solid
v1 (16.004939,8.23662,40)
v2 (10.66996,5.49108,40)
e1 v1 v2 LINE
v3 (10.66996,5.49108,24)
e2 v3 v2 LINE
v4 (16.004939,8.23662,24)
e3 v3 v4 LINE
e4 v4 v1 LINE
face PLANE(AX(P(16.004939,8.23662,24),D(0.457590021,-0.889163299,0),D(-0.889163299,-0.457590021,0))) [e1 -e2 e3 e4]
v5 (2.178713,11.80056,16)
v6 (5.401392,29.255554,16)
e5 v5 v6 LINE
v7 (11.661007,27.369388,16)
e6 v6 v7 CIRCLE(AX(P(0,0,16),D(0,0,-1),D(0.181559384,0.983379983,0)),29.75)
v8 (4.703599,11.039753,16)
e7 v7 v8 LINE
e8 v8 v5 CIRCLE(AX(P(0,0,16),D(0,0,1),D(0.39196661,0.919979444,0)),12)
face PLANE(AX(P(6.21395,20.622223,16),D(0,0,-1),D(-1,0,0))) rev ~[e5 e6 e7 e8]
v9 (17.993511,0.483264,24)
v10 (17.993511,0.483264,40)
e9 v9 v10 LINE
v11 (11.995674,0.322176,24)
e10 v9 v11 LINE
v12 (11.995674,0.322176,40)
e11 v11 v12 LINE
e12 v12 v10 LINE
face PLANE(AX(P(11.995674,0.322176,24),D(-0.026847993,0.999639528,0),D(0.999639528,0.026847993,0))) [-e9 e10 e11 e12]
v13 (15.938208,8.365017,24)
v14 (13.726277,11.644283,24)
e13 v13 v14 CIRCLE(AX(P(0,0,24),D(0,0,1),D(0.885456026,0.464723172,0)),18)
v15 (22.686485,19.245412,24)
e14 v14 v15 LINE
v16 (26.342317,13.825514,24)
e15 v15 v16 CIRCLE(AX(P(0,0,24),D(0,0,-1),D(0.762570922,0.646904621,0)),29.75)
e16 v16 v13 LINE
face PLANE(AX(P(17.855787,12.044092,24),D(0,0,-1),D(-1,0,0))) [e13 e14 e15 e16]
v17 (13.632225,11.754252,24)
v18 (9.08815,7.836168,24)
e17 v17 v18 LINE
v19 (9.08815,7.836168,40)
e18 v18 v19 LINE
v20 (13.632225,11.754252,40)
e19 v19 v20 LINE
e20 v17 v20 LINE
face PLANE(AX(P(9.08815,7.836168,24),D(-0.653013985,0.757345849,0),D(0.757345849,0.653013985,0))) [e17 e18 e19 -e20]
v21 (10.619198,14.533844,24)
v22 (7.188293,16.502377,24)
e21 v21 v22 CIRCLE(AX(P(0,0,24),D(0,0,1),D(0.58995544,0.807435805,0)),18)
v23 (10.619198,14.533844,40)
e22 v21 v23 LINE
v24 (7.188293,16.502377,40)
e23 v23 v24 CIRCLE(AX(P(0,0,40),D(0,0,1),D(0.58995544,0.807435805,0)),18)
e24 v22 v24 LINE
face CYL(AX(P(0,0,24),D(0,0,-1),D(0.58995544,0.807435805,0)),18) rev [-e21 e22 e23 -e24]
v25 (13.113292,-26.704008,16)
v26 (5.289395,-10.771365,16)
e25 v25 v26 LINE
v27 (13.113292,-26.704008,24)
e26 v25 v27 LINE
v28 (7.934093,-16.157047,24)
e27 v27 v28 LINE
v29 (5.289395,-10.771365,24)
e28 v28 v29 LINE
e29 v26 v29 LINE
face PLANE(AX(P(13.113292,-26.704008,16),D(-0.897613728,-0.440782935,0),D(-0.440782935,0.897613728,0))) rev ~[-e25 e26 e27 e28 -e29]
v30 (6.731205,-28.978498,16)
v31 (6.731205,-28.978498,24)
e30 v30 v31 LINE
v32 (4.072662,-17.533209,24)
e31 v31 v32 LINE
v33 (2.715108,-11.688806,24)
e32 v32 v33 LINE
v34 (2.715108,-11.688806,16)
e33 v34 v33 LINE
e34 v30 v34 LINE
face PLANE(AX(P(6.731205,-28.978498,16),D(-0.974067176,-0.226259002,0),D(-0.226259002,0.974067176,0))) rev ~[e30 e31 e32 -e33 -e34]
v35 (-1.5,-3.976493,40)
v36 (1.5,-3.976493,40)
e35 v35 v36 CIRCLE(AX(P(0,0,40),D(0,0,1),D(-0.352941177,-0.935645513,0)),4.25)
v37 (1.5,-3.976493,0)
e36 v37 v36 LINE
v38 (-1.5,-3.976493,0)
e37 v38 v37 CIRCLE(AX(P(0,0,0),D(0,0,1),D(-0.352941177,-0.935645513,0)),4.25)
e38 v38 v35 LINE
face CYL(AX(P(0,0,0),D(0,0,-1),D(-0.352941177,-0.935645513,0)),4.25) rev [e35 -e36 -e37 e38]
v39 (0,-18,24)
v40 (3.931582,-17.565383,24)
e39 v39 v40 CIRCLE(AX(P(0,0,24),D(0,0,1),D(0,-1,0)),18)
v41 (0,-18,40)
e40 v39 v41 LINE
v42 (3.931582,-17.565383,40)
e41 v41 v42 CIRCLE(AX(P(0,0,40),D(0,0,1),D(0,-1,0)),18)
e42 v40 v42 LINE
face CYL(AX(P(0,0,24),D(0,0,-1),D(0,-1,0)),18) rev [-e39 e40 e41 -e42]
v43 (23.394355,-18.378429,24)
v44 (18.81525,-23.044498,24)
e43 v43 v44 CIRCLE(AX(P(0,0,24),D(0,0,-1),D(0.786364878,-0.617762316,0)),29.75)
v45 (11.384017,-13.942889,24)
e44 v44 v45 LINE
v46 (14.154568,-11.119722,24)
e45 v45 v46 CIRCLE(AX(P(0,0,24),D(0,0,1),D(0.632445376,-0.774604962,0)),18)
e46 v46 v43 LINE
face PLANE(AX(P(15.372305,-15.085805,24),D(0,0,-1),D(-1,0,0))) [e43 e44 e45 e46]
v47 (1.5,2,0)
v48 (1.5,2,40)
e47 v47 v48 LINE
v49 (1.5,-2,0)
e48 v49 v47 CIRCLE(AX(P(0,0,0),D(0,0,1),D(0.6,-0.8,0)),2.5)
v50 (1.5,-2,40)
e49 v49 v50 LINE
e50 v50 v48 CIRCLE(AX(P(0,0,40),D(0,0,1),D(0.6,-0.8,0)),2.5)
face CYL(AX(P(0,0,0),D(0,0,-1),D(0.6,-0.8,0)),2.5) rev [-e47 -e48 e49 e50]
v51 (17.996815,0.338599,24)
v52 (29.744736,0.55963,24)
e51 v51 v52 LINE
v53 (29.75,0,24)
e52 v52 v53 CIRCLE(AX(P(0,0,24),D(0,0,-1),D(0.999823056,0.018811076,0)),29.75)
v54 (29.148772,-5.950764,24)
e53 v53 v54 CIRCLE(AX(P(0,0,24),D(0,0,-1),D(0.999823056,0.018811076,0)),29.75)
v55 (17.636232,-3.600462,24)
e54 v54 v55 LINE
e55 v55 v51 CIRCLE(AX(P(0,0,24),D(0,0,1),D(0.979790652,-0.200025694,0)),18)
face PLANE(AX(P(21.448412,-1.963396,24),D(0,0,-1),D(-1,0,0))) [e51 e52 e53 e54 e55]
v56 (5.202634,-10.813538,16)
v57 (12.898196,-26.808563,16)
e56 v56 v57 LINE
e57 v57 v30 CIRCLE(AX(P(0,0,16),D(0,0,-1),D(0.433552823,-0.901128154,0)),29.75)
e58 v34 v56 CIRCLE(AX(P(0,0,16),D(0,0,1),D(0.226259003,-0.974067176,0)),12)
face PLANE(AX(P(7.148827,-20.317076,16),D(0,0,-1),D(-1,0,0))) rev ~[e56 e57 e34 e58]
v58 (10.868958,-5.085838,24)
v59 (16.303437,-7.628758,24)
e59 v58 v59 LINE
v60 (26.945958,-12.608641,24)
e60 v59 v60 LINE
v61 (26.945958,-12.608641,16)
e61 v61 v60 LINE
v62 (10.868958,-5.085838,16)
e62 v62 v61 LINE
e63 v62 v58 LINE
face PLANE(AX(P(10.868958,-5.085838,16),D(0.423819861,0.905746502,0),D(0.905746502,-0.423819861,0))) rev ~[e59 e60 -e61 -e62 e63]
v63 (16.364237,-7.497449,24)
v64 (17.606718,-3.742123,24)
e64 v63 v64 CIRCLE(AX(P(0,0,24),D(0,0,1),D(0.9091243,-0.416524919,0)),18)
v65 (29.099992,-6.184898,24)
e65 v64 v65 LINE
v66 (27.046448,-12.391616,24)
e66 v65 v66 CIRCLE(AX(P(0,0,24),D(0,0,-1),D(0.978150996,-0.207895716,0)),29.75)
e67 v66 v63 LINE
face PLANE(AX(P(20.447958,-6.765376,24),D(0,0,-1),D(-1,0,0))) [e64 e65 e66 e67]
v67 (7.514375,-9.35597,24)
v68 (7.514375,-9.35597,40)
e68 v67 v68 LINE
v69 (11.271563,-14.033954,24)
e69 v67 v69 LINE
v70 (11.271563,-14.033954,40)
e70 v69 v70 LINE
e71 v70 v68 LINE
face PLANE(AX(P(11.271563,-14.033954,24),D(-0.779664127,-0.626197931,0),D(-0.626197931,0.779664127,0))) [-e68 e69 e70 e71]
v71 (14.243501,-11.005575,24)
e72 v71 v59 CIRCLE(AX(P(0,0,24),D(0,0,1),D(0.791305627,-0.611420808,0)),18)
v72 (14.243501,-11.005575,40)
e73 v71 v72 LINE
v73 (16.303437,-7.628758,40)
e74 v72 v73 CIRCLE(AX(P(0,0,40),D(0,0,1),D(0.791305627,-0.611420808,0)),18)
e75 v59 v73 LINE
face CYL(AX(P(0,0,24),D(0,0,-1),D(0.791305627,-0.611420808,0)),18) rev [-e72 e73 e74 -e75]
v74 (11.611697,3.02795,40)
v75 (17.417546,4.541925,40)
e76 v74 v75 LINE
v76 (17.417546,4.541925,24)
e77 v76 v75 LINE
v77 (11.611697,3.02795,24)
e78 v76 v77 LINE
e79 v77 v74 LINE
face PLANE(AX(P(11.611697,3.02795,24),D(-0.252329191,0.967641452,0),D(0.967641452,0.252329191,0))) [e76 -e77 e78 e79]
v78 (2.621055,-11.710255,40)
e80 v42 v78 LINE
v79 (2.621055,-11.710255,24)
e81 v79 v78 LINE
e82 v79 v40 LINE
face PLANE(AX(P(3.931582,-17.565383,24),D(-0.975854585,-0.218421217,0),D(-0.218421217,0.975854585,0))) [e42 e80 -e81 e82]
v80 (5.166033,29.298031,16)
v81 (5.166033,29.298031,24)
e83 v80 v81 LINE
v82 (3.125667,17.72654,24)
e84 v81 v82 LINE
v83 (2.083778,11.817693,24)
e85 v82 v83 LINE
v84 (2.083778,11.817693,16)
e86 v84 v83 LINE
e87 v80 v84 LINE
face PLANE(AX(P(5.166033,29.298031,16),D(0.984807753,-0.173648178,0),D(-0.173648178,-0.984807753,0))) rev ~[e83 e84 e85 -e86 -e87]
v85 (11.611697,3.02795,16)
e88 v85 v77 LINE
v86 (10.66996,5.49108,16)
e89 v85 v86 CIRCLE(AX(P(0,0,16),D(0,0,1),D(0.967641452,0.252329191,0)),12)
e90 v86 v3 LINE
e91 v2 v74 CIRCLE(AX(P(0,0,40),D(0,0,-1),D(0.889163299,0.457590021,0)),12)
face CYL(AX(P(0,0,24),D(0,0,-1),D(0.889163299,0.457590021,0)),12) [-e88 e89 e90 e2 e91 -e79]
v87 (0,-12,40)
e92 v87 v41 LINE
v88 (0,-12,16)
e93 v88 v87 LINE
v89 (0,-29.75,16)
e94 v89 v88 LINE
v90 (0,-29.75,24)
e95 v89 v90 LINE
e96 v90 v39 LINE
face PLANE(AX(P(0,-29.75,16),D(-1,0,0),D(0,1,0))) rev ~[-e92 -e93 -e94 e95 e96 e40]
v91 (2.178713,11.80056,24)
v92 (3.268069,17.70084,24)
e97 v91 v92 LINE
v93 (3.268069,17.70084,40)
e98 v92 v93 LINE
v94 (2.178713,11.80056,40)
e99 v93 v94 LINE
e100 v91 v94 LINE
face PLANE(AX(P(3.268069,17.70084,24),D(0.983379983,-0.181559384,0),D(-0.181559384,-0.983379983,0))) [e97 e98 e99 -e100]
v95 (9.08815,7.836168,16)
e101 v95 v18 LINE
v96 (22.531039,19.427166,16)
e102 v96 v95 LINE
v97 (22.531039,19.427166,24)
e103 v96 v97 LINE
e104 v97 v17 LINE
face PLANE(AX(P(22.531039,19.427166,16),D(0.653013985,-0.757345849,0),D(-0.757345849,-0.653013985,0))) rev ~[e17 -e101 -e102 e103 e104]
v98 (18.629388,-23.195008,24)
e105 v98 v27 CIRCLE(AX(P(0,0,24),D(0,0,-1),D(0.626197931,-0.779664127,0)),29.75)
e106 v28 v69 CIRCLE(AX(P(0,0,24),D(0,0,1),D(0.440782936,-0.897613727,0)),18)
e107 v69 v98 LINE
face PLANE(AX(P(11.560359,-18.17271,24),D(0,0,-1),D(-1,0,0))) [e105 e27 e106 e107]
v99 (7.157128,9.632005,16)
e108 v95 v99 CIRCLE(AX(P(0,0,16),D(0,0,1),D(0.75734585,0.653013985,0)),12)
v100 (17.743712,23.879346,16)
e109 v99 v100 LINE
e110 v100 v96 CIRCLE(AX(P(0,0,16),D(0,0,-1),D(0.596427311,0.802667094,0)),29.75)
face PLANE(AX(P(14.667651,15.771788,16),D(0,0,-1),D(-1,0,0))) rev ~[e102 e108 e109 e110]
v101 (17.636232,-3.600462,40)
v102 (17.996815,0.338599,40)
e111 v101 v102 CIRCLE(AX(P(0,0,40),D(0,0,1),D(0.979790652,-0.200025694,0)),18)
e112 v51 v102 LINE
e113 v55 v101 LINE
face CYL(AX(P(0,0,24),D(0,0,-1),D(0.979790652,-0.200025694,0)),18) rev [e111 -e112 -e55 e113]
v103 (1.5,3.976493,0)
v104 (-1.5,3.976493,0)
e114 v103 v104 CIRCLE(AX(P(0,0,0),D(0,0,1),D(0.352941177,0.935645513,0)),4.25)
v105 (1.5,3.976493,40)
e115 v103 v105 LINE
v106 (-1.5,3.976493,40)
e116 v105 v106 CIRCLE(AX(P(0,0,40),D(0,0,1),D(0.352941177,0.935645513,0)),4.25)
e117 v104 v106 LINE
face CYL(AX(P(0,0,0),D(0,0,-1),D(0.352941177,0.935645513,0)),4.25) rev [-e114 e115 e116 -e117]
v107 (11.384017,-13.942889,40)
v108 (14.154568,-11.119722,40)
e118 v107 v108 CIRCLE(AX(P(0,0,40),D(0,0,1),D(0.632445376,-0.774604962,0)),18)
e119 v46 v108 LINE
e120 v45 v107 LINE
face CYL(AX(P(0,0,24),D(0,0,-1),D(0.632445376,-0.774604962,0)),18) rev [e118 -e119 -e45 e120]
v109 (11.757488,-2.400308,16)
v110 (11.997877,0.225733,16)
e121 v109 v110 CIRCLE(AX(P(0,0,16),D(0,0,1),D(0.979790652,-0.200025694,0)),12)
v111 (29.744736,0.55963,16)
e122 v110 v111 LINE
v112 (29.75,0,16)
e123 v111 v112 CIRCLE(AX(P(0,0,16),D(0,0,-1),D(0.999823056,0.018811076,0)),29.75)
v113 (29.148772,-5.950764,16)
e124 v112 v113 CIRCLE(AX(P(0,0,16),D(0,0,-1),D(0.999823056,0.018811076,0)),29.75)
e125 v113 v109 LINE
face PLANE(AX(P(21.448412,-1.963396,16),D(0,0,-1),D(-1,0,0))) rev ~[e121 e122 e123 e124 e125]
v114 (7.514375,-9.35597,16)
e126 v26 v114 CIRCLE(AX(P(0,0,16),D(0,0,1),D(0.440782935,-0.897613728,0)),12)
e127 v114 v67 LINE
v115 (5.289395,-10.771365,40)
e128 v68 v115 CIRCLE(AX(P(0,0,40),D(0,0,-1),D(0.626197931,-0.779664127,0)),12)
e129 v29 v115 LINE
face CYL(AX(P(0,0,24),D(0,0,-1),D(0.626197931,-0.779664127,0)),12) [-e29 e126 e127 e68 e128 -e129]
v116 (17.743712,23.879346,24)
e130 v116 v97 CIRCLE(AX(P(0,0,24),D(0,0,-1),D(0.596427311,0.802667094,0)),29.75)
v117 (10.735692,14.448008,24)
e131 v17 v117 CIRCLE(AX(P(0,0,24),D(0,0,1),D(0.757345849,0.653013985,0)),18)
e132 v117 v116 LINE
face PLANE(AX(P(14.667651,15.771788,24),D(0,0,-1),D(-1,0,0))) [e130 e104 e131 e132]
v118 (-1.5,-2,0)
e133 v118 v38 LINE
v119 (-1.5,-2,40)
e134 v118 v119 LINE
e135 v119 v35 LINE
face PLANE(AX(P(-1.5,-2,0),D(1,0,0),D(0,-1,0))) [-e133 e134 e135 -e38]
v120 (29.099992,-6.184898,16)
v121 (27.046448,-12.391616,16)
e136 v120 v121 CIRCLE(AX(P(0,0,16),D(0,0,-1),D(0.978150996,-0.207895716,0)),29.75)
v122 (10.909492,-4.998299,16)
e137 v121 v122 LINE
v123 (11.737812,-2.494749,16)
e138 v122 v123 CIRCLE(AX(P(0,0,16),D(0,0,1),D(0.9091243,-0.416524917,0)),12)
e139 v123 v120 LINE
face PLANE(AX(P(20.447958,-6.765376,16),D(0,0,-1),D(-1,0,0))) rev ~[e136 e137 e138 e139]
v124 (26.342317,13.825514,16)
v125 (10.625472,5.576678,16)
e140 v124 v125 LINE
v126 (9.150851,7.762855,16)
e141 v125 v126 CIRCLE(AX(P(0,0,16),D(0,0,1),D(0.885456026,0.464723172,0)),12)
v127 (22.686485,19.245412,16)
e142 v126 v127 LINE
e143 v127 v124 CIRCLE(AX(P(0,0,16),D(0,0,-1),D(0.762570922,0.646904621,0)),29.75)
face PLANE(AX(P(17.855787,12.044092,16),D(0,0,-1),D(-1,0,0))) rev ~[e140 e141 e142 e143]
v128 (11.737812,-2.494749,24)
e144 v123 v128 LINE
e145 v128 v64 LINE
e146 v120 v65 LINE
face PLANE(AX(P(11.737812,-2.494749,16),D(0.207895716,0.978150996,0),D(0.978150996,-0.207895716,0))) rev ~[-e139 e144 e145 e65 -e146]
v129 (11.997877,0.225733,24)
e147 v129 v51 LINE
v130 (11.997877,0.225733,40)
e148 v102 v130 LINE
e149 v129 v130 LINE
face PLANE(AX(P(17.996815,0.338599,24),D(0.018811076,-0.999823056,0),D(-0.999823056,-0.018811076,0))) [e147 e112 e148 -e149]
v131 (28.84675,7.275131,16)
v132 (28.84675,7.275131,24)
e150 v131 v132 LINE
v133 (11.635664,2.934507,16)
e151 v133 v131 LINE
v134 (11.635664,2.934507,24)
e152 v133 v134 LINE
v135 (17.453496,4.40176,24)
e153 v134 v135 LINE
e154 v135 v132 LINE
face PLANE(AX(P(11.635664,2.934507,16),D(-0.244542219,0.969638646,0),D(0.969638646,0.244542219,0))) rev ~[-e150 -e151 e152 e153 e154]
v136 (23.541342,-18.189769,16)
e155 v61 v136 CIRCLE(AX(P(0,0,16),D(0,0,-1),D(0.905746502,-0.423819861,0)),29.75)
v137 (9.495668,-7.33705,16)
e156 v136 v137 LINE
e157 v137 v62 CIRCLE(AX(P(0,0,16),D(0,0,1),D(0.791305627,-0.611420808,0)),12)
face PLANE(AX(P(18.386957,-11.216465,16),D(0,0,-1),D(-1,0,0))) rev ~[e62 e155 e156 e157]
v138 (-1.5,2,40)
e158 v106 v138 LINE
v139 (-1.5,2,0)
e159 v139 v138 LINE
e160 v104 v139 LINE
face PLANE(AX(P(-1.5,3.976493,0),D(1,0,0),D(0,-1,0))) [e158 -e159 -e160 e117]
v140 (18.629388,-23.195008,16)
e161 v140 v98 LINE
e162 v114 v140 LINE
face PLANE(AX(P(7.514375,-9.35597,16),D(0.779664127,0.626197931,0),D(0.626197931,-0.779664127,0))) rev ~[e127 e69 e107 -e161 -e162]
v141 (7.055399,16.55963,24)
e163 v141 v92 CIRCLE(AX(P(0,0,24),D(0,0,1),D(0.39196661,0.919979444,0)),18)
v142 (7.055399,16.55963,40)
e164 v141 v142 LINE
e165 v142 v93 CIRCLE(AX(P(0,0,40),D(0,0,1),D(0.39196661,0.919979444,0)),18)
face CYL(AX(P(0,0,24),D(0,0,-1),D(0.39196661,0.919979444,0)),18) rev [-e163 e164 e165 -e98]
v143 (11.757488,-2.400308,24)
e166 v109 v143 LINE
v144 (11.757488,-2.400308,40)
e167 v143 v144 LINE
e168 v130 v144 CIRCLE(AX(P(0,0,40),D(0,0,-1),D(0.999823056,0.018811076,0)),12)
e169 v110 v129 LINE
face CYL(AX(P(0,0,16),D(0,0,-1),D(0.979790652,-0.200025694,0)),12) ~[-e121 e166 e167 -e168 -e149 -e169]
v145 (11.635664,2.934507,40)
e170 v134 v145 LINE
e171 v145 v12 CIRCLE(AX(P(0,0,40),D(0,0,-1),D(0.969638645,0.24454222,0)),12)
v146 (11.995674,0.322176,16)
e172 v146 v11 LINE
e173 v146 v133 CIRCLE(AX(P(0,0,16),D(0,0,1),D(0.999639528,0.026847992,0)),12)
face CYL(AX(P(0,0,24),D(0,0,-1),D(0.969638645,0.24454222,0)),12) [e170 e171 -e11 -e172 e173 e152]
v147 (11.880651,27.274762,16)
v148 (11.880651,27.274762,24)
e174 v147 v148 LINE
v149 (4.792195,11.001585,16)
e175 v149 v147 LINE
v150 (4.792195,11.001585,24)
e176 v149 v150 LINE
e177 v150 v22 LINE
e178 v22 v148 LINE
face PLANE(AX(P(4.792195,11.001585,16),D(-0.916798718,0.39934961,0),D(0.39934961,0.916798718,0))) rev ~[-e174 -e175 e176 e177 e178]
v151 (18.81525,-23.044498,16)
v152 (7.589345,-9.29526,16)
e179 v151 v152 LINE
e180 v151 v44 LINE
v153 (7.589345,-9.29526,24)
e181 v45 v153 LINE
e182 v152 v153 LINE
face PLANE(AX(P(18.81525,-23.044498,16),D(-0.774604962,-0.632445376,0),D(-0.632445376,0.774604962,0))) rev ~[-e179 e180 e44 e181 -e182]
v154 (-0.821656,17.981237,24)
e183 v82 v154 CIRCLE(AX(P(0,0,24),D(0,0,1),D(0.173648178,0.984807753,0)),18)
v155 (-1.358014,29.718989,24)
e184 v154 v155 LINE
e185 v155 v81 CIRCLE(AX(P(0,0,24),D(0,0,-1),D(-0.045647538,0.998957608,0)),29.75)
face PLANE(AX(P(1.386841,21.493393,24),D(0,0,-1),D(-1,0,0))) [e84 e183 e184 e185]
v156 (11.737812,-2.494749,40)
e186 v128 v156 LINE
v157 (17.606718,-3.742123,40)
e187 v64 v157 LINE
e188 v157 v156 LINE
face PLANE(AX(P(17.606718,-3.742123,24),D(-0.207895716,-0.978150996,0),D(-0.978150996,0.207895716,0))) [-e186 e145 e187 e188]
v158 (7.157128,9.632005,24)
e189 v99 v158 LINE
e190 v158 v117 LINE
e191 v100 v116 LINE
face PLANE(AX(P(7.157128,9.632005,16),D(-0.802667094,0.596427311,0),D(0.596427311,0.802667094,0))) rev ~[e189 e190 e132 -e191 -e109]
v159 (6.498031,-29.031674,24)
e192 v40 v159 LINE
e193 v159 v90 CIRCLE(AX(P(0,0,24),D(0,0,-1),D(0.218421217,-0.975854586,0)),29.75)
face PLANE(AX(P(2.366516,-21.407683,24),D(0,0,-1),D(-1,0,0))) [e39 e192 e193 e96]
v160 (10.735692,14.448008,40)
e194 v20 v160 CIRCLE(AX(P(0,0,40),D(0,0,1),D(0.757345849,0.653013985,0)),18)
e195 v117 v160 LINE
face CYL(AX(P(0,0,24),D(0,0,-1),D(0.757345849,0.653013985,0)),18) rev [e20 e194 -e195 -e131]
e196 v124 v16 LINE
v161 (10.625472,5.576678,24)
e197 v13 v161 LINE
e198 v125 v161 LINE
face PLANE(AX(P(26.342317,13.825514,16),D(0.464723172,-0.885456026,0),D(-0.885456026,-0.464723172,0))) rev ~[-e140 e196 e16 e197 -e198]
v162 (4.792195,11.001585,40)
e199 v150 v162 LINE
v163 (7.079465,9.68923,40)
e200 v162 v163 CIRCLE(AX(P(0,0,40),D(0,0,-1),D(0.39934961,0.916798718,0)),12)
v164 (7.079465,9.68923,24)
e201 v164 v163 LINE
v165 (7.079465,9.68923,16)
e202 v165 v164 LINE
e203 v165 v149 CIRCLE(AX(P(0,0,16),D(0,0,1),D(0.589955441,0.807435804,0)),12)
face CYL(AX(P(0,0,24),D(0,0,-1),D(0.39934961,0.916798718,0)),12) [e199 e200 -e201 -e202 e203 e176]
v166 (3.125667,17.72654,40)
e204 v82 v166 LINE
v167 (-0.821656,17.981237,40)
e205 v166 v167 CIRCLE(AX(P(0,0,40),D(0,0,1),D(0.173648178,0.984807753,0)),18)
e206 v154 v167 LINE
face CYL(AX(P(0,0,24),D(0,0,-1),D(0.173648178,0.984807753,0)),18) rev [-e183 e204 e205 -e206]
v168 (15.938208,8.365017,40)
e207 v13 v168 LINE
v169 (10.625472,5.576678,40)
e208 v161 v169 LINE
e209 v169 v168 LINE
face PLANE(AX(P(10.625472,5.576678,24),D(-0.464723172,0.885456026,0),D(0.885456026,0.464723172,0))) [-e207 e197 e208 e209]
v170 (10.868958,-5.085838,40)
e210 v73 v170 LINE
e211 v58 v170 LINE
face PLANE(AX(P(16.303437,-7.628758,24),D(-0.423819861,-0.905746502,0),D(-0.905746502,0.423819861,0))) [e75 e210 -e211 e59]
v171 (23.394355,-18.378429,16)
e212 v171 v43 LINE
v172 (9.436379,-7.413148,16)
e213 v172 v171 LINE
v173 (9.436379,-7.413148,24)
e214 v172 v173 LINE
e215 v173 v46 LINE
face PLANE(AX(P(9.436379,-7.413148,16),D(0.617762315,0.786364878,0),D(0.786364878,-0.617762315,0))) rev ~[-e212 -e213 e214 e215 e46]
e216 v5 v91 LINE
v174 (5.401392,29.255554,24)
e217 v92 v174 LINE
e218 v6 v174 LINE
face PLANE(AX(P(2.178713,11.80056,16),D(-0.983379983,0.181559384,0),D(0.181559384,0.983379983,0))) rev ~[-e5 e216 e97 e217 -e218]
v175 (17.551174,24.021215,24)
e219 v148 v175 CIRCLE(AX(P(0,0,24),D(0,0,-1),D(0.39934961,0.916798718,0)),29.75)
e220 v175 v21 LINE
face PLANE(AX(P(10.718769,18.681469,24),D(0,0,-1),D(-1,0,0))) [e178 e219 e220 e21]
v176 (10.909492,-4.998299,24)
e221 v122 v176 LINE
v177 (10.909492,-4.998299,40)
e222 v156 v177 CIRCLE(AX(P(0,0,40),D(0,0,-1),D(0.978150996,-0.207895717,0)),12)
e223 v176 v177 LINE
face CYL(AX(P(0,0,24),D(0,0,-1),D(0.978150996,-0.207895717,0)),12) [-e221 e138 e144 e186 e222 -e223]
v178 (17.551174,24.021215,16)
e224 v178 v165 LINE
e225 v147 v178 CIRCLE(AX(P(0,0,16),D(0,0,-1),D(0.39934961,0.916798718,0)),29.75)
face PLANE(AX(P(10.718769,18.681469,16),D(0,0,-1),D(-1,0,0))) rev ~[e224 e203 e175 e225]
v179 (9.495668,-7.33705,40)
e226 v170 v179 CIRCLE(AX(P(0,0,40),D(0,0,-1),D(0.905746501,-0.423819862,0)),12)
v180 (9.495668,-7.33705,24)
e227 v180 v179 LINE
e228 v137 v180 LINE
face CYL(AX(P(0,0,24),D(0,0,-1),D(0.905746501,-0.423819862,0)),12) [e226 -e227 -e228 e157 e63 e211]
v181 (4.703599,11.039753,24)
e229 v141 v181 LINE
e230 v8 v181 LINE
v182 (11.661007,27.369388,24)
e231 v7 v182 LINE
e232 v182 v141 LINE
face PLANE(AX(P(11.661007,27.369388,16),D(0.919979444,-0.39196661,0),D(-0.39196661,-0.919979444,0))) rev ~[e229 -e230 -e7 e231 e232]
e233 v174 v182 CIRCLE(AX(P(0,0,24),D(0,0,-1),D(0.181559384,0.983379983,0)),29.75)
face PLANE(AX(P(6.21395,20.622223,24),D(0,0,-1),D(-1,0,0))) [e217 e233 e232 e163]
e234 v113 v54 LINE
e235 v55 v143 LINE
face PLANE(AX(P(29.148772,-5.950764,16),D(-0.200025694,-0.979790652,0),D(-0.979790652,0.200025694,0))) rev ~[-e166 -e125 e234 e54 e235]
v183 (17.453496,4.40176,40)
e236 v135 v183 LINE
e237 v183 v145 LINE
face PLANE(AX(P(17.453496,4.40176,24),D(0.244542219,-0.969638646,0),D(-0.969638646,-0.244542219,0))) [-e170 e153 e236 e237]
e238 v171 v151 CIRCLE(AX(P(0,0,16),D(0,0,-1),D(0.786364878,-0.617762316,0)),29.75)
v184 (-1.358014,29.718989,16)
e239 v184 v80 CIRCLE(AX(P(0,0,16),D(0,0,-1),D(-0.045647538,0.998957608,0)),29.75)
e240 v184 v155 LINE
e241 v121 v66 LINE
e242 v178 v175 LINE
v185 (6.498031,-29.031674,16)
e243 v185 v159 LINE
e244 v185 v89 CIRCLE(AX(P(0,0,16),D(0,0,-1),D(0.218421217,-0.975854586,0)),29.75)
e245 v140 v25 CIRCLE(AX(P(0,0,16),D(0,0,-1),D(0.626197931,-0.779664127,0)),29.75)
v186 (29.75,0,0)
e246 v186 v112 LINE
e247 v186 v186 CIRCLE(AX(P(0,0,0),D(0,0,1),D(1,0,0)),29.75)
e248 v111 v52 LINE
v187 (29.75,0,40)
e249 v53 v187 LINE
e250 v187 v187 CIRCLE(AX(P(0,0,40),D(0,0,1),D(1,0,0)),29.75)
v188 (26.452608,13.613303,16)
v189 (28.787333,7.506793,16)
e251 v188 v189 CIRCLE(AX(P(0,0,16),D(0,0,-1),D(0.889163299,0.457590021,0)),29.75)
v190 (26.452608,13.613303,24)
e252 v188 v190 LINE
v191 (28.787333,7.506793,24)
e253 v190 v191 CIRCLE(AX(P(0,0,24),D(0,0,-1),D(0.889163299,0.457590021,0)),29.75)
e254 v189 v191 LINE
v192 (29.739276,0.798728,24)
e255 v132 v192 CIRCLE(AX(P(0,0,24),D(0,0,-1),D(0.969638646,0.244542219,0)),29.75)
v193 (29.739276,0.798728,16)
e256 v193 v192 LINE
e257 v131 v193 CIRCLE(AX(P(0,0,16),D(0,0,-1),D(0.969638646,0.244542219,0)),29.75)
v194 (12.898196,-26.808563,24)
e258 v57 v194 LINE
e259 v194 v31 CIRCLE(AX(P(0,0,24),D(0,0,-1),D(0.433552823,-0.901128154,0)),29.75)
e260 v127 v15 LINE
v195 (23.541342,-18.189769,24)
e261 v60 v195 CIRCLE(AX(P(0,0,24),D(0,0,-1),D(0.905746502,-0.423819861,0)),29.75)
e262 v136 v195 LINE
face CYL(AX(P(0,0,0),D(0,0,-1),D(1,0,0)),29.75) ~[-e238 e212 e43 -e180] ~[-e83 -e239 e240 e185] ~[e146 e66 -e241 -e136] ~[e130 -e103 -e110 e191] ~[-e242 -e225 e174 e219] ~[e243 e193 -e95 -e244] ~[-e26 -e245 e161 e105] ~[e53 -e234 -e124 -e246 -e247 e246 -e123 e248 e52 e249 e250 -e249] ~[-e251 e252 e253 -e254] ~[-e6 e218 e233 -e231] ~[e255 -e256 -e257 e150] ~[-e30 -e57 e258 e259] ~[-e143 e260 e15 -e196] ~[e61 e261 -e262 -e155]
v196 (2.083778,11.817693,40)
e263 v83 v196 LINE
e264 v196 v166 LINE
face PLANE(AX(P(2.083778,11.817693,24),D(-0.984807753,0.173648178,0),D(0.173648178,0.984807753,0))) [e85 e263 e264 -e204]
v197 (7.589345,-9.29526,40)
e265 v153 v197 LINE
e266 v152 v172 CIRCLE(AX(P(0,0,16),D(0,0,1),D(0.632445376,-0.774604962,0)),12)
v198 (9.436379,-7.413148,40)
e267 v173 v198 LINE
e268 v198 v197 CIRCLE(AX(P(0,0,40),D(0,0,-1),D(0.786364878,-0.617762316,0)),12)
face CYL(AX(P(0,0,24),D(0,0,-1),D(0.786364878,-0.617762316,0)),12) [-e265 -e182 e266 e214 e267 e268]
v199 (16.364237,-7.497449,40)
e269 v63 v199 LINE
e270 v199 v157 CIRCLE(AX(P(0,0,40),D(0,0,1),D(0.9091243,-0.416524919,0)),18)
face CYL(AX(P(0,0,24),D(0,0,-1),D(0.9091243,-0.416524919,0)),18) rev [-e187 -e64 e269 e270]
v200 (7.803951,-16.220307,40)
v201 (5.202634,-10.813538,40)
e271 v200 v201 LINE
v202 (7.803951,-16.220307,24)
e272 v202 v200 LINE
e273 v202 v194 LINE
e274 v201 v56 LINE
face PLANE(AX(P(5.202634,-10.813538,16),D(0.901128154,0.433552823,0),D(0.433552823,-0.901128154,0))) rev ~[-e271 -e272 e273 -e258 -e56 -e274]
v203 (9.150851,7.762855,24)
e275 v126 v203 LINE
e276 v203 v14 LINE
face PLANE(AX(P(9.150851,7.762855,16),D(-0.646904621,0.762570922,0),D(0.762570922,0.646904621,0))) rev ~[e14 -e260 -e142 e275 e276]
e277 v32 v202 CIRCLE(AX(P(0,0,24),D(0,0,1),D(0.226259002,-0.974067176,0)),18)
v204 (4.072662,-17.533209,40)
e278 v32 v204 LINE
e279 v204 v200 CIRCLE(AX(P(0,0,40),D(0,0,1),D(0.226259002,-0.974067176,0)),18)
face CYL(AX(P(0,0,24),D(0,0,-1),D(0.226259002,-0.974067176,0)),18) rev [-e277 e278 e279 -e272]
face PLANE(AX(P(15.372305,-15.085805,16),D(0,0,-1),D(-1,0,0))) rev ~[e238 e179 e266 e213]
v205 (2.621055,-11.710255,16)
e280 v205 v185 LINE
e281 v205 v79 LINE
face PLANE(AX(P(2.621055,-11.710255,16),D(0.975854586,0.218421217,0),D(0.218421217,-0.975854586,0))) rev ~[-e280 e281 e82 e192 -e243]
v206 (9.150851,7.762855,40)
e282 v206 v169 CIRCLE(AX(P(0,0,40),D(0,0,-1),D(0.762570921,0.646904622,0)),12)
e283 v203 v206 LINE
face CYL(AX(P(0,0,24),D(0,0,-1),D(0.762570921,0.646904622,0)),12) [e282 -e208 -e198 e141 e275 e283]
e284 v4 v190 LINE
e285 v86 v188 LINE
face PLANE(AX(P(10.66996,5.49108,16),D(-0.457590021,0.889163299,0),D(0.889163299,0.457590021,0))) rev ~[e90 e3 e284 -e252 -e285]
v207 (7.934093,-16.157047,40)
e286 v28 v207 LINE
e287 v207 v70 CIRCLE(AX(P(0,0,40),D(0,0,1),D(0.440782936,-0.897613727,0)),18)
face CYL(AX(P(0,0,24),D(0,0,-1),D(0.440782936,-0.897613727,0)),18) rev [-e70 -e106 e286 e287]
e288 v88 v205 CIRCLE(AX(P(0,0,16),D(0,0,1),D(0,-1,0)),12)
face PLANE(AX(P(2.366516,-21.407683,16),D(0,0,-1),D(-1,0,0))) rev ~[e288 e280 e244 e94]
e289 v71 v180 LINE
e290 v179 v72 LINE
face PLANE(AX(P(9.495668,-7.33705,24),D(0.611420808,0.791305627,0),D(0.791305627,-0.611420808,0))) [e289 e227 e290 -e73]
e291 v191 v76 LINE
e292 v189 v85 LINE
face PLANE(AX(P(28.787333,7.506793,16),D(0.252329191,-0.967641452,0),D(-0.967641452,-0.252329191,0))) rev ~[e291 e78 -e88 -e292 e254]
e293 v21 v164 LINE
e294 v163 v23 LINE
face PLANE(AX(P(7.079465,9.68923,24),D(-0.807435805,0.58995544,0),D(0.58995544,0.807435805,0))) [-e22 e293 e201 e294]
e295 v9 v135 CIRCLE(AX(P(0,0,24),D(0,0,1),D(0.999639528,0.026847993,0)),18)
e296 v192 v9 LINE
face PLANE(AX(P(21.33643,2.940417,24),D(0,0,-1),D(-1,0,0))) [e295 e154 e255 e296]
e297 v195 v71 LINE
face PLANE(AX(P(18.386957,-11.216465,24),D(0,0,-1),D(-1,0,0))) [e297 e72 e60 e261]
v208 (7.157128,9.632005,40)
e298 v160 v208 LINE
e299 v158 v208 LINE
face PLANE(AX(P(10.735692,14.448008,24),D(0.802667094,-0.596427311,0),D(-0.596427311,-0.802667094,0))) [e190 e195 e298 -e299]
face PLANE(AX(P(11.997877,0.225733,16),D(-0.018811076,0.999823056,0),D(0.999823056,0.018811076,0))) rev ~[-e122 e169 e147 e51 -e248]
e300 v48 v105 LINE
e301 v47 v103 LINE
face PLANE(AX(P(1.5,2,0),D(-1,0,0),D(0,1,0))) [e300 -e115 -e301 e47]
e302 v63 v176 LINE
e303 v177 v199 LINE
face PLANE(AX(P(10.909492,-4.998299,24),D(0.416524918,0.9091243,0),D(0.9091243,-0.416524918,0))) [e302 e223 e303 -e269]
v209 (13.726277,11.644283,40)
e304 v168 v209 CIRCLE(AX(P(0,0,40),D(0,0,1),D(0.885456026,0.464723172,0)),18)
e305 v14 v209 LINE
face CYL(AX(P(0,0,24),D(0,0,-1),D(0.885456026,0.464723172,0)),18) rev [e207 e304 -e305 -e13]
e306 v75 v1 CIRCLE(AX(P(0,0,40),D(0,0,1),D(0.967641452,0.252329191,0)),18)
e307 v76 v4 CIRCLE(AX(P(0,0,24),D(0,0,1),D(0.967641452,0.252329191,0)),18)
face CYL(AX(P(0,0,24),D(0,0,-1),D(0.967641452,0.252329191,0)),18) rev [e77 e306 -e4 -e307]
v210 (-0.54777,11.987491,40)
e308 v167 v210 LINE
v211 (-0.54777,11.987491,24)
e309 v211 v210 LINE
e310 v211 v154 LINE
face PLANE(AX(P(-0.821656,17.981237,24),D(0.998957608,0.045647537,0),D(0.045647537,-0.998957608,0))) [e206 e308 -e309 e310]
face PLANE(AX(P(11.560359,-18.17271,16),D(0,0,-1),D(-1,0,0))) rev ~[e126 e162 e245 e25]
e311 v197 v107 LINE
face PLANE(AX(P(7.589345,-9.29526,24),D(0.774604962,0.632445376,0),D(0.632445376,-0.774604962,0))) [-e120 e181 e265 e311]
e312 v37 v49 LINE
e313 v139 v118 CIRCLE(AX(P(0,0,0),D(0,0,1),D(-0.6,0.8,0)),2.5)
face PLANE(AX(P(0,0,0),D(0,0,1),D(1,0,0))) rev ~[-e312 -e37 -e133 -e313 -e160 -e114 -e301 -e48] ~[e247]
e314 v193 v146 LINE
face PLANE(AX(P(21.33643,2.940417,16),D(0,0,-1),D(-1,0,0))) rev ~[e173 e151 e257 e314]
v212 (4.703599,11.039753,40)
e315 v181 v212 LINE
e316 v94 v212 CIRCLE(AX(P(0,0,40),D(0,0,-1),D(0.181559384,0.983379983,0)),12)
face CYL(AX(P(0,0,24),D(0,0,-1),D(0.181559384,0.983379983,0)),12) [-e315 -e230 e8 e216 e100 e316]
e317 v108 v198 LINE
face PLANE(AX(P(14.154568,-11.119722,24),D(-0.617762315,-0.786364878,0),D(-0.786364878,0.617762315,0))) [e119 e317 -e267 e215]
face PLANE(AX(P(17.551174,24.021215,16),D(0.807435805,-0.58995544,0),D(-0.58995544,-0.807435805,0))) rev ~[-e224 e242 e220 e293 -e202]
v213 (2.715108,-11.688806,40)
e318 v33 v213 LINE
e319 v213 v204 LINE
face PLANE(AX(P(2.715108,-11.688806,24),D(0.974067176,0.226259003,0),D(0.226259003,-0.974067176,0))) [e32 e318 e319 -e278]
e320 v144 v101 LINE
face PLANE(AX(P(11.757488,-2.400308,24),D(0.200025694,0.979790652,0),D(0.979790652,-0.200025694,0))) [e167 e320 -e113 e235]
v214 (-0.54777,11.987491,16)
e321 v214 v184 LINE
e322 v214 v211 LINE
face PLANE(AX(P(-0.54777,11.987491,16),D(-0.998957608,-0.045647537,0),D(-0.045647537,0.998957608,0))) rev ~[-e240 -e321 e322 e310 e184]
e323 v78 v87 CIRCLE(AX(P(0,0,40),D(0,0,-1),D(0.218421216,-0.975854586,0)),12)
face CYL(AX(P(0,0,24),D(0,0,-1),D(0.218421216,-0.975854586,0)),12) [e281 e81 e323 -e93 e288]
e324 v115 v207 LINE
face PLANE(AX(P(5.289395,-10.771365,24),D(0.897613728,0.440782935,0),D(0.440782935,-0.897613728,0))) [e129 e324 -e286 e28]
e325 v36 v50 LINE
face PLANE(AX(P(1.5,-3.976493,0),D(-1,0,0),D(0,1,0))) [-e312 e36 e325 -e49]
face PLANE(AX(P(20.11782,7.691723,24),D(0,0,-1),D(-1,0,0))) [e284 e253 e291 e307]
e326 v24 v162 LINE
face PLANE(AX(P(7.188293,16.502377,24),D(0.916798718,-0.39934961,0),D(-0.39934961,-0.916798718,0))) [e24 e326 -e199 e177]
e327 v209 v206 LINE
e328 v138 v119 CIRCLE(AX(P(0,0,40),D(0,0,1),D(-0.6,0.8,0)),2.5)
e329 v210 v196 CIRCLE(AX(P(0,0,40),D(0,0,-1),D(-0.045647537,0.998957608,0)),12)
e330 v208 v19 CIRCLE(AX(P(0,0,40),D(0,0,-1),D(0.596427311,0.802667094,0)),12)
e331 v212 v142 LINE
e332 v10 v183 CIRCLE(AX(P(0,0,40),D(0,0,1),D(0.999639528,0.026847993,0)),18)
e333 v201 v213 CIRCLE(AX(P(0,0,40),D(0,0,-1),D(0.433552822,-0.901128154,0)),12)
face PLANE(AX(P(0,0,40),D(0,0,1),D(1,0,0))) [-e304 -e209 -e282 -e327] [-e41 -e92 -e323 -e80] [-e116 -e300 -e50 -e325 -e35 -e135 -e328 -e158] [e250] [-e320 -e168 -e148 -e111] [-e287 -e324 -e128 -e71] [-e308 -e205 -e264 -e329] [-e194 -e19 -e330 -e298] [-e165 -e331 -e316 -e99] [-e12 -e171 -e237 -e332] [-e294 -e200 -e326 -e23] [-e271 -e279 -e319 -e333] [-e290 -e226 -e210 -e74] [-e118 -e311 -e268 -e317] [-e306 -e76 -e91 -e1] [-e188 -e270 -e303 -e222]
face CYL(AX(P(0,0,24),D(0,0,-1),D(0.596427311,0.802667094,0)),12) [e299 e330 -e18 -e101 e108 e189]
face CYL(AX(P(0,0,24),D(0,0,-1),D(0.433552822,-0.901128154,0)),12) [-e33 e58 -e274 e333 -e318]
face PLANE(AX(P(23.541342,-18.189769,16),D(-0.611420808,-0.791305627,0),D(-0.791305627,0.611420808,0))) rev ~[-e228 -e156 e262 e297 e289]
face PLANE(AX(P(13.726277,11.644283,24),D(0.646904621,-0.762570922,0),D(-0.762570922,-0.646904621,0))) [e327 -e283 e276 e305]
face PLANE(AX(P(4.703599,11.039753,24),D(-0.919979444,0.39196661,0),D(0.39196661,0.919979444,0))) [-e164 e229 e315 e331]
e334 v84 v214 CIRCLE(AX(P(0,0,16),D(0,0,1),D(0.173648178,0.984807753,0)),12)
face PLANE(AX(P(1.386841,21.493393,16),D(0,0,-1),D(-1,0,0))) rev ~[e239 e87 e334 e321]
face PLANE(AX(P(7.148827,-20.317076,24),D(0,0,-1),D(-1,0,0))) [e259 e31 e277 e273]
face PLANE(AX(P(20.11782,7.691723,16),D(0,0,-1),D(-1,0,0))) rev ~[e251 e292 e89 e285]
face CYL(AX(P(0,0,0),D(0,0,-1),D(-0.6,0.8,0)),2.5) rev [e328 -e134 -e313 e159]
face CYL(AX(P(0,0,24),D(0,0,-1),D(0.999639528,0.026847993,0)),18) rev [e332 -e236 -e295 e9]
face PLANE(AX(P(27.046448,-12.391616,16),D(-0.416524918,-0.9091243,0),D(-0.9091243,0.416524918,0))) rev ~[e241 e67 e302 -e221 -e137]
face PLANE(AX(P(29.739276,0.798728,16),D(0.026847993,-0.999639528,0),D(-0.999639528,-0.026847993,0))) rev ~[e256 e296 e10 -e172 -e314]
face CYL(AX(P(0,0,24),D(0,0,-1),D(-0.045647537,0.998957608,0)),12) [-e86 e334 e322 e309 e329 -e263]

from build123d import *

# Parameters (mm, degrees)
SKETCH1_R               = 29.75
BOSS_EXTRUDE1_DEPTH     = 40
CUT_EXTRUDE1_DEPTH      = 4
CUT_EXTRUDE1_DEPTH_BACK = 4
CUT_EXTRUDE1_START      = -20
CUT_EXTRUDE3_START      = -16
CUT_EXTRUDE3_DEPTH      = 16


with BuildPart() as part:
    # Sketch1 → Boss-Extrude1 (new body)
    with BuildSketch(Plane.XY):
        Circle(SKETCH1_R)
        with BuildLine():
            Line((1.5, 2), (1.5, 3.97649343))
            ThreePointArc((1.5, 3.97649343), (0, 4.25), (-1.5, 3.97649343))
            Line((-1.5, 3.97649343), (-1.5, 2))
            ThreePointArc((-1.5, 2), (-2.5, 0), (-1.5, -2))
            Line((-1.5, -2), (-1.5, -3.97649343))
            ThreePointArc((-1.5, -3.97649343), (0, -4.25), (1.5, -3.97649343))
            Line((1.5, -3.97649343), (1.5, -2))
            ThreePointArc((1.5, -2), (2.5, 0), (1.5, 2))
        make_face(mode=Mode.SUBTRACT)
    extrude(amount=BOSS_EXTRUDE1_DEPTH)

    # Sketch2 → Cut-Extrude1 (cut, two sides: drawn at the far end of the back side and taken through both)
    with BuildSketch(Plane.XY.offset(40).offset(CUT_EXTRUDE1_START - CUT_EXTRUDE1_DEPTH_BACK)):
        with BuildLine():
            Line((2.621054601, -11.710255026), (6.498031199, -29.031673919))
            ThreePointArc((6.498031199, -29.031673919), (3.268807192, -29.569873174), (0, -29.75))
            Line((0, -29.75), (0, -12))
            ThreePointArc((0, -12), (1.318510464, -11.927343801), (2.621054601, -11.710255026))
        make_face()
        with BuildLine():
            Line((5.202633875, -10.813537847), (12.898196481, -26.808562579))
            ThreePointArc((12.898196481, -26.808562579), (9.874487797, -28.06344581), (6.731205322, -28.978498493))
            Line((6.731205322, -28.978498493), (2.715108029, -11.688806115))
            ThreePointArc((2.715108029, -11.688806115), (3.982986674, -11.319709234), (5.202633875, -10.813537847))
        make_face()
        with BuildLine():
            Line((7.514375173, -9.355969525), (18.62938845, -23.195007781))
            ThreePointArc((18.62938845, -23.195007781), (15.968021699, -25.101489657), (13.113292322, -26.704008397))
            Line((13.113292322, -26.704008397), (5.289395222, -10.771364732))
            ThreePointArc((5.289395222, -10.771364732), (6.440882702, -10.124970618), (7.514375173, -9.355969525))
        make_face()
        with BuildLine():
            Line((9.436378538, -7.413147786), (23.394355125, -18.378428885))
            ThreePointArc((23.394355125, -18.378428885), (21.233363816, -20.837628489), (18.815249924, -23.044497614))
            Line((18.815249924, -23.044497614), (7.589344507, -9.295259542))
            ThreePointArc((7.589344507, -9.295259542), (8.564718178, -8.405093844), (9.436378538, -7.413147786))
        make_face()
        with BuildLine():
            Line((10.868958019, -5.085838336), (26.945958422, -12.608640875))
            ThreePointArc((26.945958422, -12.608640875), (25.397423769, -15.493010227), (23.541342405, -18.189769041))
            Line((23.541342405, -18.189769041), (9.495667525, -7.337049697))
            ThreePointArc((9.495667525, -7.337049697), (10.244338999, -6.249281436), (10.868958019, -5.085838336))
        make_face()
        with BuildLine():
            Line((11.737811955, -2.494748588), (29.099992138, -6.184897541))
            ThreePointArc((29.099992138, -6.184897541), (28.244229893, -9.344836957), (27.046447919, -12.391616317))
            Line((27.046447919, -12.391616317), (10.909491598, -4.998299019))
            ThreePointArc((10.909491598, -4.998299019), (11.392630545, -3.769345999), (11.737811955, -2.494748588))
        make_face()
        with BuildLine():
            Line((11.997876673, 0.225732911), (29.744735918, 0.559629508))
            ThreePointArc((29.744735918, 0.559629508), (29.626130745, -2.711987667), (29.148771898, -5.95076439))
            Line((29.148771898, -5.95076439), (11.757487825, -2.400308325))
            ThreePointArc((11.757487825, -2.400308325), (11.950035931, -1.093910992), (11.997876673, 0.225732911))
        make_face()
        with BuildLine():
            Line((11.635663748, 2.934506626), (28.846749709, 7.275131011))
            ThreePointArc((28.846749709, 7.275131011), (29.471453141, 4.061520619), (29.739275948, 0.798727786))
            Line((29.739275948, 0.798727786), (11.995674332, 0.322175914))
            ThreePointArc((11.995674332, 0.322175914), (11.887644965, 1.638260418), (11.635663748, 2.934506626))
        make_face()
        with BuildLine():
            Line((10.669959589, 5.491080255), (26.452608147, 13.613303133))
            ThreePointArc((26.452608147, 13.613303133), (27.788219537, 10.624375509), (28.787333194, 7.506793428))
            Line((28.787333194, 7.506793428), (11.611697423, 3.02795029))
            ThreePointArc((11.611697423, 3.02795029), (11.208693595, 4.28546239), (10.669959589, 5.491080255))
        make_face()
        with BuildLine():
            Line((9.150851066, 7.762855451), (22.686484935, 19.245412473))
            ThreePointArc((22.686484935, 19.245412473), (24.663731933, 16.636190283), (26.342316763, 13.825514368))
            Line((26.342316763, 13.825514368), (10.625472308, 5.576678065))
            ThreePointArc((10.625472308, 5.576678065), (9.948396074, 6.710396081), (9.150851066, 7.762855451))
        make_face()
        with BuildLine():
            Line((7.157127728, 9.632005123), (17.743712492, 23.879346034))
            ThreePointArc((17.743712492, 23.879346034), (20.260043902, 21.785158276), (22.531039016, 19.427166053))
            Line((22.531039016, 19.427166053), (9.088150191, 7.83616782))
            ThreePointArc((9.088150191, 7.83616782), (8.172118549, 8.787290733), (7.157127728, 9.632005123))
        make_face()
        with BuildLine():
            Line((4.792195325, 11.001584611), (11.880650911, 27.274761849))
            ThreePointArc((11.880650911, 27.274761849), (14.805555575, 25.804224928), (17.551174341, 24.021215191))
            Line((17.551174341, 24.021215191), (7.07946528, 9.689229657))
            ThreePointArc((7.07946528, 9.689229657), (5.971988803, 10.408426862), (4.792195325, 11.001584611))
        make_face()
        with BuildLine():
            Line((2.178712609, 11.80055979), (5.401391677, 29.25555448))
            ThreePointArc((5.401391677, 29.25555448), (8.583167521, 28.484938745), (11.661006643, 27.369388449))
            Line((11.661006643, 27.369388449), (4.703599318, 11.039753324))
            ThreePointArc((4.703599318, 11.039753324), (3.462117992, 11.489723191), (2.178712609, 11.80055979))
        make_face()
        with BuildLine():
            Line((-0.547770447, 11.987491295), (-1.358014233, 29.718988834))
            ThreePointArc((-1.358014233, 29.718988834), (1.915607925, 29.68826277), (5.166033286, 29.298030652))
            Line((5.166033286, 29.298030652), (2.083778132, 11.817693036))
            ThreePointArc((2.083778132, 11.817693036), (0.772682188, 11.975097588), (-0.547770447, 11.987491295))
        make_face()
    extrude(amount=CUT_EXTRUDE1_DEPTH + CUT_EXTRUDE1_DEPTH_BACK, mode=Mode.SUBTRACT)

    # Sketch3 → Cut-Extrude3 (cut)
    with BuildSketch(Plane.XY.offset(40).offset(CUT_EXTRUDE3_START)):
        with BuildLine():
            Line((0, -12), (0, -18))
            ThreePointArc((0, -18), (1.977765696, -17.891015702), (3.931581902, -17.565382539))
            Line((3.931581902, -17.565382539), (2.621054601, -11.710255026))
            ThreePointArc((2.621054601, -11.710255026), (1.318510464, -11.927343801), (0, -12))
        make_face()
        with BuildLine():
            Line((2.715108029, -11.688806115), (4.072662044, -17.533209172))
            ThreePointArc((4.072662044, -17.533209172), (5.974480012, -16.979563852), (7.803950812, -16.22030677))
            Line((7.803950812, -16.22030677), (5.202633875, -10.813537847))
            ThreePointArc((5.202633875, -10.813537847), (3.982986674, -11.319709234), (2.715108029, -11.688806115))
        make_face()
        with BuildLine():
            Line((5.289395222, -10.771364732), (7.934092833, -16.157047098))
            ThreePointArc((7.934092833, -16.157047098), (9.661324053, -15.187455927), (11.27156276, -14.033954288))
            Line((11.27156276, -14.033954288), (7.514375173, -9.355969525))
            ThreePointArc((7.514375173, -9.355969525), (6.440882702, -10.124970618), (5.289395222, -10.771364732))
        make_face()
        with BuildLine():
            Line((7.589344507, -9.295259542), (11.384016761, -13.942889313))
            ThreePointArc((11.384016761, -13.942889313), (12.847077267, -12.607640767), (14.154567807, -11.119721679))
            Line((14.154567807, -11.119721679), (9.436378538, -7.413147786))
            ThreePointArc((9.436378538, -7.413147786), (8.564718178, -8.405093844), (7.589344507, -9.295259542))
        make_face()
        with BuildLine():
            Line((9.495667525, -7.337049697), (14.243501287, -11.005574546))
            ThreePointArc((14.243501287, -11.005574546), (15.366508499, -9.373922154), (16.303437028, -7.628757504))
            Line((16.303437028, -7.628757504), (10.868958019, -5.085838336))
            ThreePointArc((10.868958019, -5.085838336), (10.244338999, -6.249281436), (9.495667525, -7.337049697))
        make_face()
        with BuildLine():
            Line((10.909491598, -4.998299019), (16.364237396, -7.497448528))
            ThreePointArc((16.364237396, -7.497448528), (17.088945818, -5.654018999), (17.606717932, -3.742122882))
            Line((17.606717932, -3.742122882), (11.737811955, -2.494748588))
            ThreePointArc((11.737811955, -2.494748588), (11.392630545, -3.769345999), (10.909491598, -4.998299019))
        make_face()
        with BuildLine():
            Line((11.757487825, -2.400308325), (17.636231737, -3.600462488))
            ThreePointArc((17.636231737, -3.600462488), (17.925053896, -1.640866488), (17.996815009, 0.338599366))
            Line((17.996815009, 0.338599366), (11.997876673, 0.225732911))
            ThreePointArc((11.997876673, 0.225732911), (11.950035931, -1.093910992), (11.757487825, -2.400308325))
        make_face()
        with BuildLine():
            Line((11.995674332, 0.322175914), (17.993511498, 0.483263871))
            ThreePointArc((17.993511498, 0.483263871), (17.831467447, 2.457390627), (17.453495622, 4.40175994))
            Line((17.453495622, 4.40175994), (11.635663748, 2.934506626))
            ThreePointArc((11.635663748, 2.934506626), (11.887644965, 1.638260418), (11.995674332, 0.322175914))
        make_face()
        with BuildLine():
            Line((11.611697423, 3.02795029), (17.417546134, 4.541925436))
            ThreePointArc((17.417546134, 4.541925436), (16.813040392, 6.428193585), (16.004939383, 8.236620383))
            Line((16.004939383, 8.236620383), (10.669959589, 5.491080255))
            ThreePointArc((10.669959589, 5.491080255), (11.208693595, 4.28546239), (11.611697423, 3.02795029))
        make_face()
        with BuildLine():
            Line((10.625472308, 5.576678065), (15.938208462, 8.365017097))
            ThreePointArc((15.938208462, 8.365017097), (14.922594111, 10.065594121), (13.7262766, 11.644283177))
            Line((13.7262766, 11.644283177), (9.150851066, 7.762855451))
            ThreePointArc((9.150851066, 7.762855451), (9.948396074, 6.710396081), (10.625472308, 5.576678065))
        make_face()
        with BuildLine():
            Line((9.088150191, 7.83616782), (13.632225287, 11.75425173))
            ThreePointArc((13.632225287, 11.75425173), (12.258177823, 13.1809361), (10.735691592, 14.448007684))
            Line((10.735691592, 14.448007684), (7.157127728, 9.632005123))
            ThreePointArc((7.157127728, 9.632005123), (8.172118549, 8.787290733), (9.088150191, 7.83616782))
        make_face()
        with BuildLine():
            Line((7.07946528, 9.689229657), (10.61919792, 14.533844485))
            ThreePointArc((10.61919792, 14.533844485), (8.957983205, 15.612640292), (7.188292988, 16.502376917))
            Line((7.188292988, 16.502376917), (4.792195325, 11.001584611))
            ThreePointArc((4.792195325, 11.001584611), (5.971988803, 10.408426862), (7.07946528, 9.689229657))
        make_face()
        with BuildLine():
            Line((4.703599318, 11.039753324), (7.055398977, 16.559629986))
            ThreePointArc((7.055398977, 16.559629986), (5.193176987, 17.234584787), (3.268068914, 17.700839686))
            Line((3.268068914, 17.700839686), (2.178712609, 11.80055979))
            ThreePointArc((2.178712609, 11.80055979), (3.462117992, 11.489723191), (4.703599318, 11.039753324))
        make_face()
        with BuildLine():
            Line((2.083778132, 11.817693036), (3.125667198, 17.726539554))
            ThreePointArc((3.125667198, 17.726539554), (1.159023282, 17.962646382), (-0.821655671, 17.981236942))
            Line((-0.821655671, 17.981236942), (-0.547770447, 11.987491295))
            ThreePointArc((-0.547770447, 11.987491295), (0.772682188, 11.975097588), (2.083778132, 11.817693036))
        make_face()
    extrude(amount=CUT_EXTRUDE3_DEPTH, mode=Mode.SUBTRACT)


solid = part.part
